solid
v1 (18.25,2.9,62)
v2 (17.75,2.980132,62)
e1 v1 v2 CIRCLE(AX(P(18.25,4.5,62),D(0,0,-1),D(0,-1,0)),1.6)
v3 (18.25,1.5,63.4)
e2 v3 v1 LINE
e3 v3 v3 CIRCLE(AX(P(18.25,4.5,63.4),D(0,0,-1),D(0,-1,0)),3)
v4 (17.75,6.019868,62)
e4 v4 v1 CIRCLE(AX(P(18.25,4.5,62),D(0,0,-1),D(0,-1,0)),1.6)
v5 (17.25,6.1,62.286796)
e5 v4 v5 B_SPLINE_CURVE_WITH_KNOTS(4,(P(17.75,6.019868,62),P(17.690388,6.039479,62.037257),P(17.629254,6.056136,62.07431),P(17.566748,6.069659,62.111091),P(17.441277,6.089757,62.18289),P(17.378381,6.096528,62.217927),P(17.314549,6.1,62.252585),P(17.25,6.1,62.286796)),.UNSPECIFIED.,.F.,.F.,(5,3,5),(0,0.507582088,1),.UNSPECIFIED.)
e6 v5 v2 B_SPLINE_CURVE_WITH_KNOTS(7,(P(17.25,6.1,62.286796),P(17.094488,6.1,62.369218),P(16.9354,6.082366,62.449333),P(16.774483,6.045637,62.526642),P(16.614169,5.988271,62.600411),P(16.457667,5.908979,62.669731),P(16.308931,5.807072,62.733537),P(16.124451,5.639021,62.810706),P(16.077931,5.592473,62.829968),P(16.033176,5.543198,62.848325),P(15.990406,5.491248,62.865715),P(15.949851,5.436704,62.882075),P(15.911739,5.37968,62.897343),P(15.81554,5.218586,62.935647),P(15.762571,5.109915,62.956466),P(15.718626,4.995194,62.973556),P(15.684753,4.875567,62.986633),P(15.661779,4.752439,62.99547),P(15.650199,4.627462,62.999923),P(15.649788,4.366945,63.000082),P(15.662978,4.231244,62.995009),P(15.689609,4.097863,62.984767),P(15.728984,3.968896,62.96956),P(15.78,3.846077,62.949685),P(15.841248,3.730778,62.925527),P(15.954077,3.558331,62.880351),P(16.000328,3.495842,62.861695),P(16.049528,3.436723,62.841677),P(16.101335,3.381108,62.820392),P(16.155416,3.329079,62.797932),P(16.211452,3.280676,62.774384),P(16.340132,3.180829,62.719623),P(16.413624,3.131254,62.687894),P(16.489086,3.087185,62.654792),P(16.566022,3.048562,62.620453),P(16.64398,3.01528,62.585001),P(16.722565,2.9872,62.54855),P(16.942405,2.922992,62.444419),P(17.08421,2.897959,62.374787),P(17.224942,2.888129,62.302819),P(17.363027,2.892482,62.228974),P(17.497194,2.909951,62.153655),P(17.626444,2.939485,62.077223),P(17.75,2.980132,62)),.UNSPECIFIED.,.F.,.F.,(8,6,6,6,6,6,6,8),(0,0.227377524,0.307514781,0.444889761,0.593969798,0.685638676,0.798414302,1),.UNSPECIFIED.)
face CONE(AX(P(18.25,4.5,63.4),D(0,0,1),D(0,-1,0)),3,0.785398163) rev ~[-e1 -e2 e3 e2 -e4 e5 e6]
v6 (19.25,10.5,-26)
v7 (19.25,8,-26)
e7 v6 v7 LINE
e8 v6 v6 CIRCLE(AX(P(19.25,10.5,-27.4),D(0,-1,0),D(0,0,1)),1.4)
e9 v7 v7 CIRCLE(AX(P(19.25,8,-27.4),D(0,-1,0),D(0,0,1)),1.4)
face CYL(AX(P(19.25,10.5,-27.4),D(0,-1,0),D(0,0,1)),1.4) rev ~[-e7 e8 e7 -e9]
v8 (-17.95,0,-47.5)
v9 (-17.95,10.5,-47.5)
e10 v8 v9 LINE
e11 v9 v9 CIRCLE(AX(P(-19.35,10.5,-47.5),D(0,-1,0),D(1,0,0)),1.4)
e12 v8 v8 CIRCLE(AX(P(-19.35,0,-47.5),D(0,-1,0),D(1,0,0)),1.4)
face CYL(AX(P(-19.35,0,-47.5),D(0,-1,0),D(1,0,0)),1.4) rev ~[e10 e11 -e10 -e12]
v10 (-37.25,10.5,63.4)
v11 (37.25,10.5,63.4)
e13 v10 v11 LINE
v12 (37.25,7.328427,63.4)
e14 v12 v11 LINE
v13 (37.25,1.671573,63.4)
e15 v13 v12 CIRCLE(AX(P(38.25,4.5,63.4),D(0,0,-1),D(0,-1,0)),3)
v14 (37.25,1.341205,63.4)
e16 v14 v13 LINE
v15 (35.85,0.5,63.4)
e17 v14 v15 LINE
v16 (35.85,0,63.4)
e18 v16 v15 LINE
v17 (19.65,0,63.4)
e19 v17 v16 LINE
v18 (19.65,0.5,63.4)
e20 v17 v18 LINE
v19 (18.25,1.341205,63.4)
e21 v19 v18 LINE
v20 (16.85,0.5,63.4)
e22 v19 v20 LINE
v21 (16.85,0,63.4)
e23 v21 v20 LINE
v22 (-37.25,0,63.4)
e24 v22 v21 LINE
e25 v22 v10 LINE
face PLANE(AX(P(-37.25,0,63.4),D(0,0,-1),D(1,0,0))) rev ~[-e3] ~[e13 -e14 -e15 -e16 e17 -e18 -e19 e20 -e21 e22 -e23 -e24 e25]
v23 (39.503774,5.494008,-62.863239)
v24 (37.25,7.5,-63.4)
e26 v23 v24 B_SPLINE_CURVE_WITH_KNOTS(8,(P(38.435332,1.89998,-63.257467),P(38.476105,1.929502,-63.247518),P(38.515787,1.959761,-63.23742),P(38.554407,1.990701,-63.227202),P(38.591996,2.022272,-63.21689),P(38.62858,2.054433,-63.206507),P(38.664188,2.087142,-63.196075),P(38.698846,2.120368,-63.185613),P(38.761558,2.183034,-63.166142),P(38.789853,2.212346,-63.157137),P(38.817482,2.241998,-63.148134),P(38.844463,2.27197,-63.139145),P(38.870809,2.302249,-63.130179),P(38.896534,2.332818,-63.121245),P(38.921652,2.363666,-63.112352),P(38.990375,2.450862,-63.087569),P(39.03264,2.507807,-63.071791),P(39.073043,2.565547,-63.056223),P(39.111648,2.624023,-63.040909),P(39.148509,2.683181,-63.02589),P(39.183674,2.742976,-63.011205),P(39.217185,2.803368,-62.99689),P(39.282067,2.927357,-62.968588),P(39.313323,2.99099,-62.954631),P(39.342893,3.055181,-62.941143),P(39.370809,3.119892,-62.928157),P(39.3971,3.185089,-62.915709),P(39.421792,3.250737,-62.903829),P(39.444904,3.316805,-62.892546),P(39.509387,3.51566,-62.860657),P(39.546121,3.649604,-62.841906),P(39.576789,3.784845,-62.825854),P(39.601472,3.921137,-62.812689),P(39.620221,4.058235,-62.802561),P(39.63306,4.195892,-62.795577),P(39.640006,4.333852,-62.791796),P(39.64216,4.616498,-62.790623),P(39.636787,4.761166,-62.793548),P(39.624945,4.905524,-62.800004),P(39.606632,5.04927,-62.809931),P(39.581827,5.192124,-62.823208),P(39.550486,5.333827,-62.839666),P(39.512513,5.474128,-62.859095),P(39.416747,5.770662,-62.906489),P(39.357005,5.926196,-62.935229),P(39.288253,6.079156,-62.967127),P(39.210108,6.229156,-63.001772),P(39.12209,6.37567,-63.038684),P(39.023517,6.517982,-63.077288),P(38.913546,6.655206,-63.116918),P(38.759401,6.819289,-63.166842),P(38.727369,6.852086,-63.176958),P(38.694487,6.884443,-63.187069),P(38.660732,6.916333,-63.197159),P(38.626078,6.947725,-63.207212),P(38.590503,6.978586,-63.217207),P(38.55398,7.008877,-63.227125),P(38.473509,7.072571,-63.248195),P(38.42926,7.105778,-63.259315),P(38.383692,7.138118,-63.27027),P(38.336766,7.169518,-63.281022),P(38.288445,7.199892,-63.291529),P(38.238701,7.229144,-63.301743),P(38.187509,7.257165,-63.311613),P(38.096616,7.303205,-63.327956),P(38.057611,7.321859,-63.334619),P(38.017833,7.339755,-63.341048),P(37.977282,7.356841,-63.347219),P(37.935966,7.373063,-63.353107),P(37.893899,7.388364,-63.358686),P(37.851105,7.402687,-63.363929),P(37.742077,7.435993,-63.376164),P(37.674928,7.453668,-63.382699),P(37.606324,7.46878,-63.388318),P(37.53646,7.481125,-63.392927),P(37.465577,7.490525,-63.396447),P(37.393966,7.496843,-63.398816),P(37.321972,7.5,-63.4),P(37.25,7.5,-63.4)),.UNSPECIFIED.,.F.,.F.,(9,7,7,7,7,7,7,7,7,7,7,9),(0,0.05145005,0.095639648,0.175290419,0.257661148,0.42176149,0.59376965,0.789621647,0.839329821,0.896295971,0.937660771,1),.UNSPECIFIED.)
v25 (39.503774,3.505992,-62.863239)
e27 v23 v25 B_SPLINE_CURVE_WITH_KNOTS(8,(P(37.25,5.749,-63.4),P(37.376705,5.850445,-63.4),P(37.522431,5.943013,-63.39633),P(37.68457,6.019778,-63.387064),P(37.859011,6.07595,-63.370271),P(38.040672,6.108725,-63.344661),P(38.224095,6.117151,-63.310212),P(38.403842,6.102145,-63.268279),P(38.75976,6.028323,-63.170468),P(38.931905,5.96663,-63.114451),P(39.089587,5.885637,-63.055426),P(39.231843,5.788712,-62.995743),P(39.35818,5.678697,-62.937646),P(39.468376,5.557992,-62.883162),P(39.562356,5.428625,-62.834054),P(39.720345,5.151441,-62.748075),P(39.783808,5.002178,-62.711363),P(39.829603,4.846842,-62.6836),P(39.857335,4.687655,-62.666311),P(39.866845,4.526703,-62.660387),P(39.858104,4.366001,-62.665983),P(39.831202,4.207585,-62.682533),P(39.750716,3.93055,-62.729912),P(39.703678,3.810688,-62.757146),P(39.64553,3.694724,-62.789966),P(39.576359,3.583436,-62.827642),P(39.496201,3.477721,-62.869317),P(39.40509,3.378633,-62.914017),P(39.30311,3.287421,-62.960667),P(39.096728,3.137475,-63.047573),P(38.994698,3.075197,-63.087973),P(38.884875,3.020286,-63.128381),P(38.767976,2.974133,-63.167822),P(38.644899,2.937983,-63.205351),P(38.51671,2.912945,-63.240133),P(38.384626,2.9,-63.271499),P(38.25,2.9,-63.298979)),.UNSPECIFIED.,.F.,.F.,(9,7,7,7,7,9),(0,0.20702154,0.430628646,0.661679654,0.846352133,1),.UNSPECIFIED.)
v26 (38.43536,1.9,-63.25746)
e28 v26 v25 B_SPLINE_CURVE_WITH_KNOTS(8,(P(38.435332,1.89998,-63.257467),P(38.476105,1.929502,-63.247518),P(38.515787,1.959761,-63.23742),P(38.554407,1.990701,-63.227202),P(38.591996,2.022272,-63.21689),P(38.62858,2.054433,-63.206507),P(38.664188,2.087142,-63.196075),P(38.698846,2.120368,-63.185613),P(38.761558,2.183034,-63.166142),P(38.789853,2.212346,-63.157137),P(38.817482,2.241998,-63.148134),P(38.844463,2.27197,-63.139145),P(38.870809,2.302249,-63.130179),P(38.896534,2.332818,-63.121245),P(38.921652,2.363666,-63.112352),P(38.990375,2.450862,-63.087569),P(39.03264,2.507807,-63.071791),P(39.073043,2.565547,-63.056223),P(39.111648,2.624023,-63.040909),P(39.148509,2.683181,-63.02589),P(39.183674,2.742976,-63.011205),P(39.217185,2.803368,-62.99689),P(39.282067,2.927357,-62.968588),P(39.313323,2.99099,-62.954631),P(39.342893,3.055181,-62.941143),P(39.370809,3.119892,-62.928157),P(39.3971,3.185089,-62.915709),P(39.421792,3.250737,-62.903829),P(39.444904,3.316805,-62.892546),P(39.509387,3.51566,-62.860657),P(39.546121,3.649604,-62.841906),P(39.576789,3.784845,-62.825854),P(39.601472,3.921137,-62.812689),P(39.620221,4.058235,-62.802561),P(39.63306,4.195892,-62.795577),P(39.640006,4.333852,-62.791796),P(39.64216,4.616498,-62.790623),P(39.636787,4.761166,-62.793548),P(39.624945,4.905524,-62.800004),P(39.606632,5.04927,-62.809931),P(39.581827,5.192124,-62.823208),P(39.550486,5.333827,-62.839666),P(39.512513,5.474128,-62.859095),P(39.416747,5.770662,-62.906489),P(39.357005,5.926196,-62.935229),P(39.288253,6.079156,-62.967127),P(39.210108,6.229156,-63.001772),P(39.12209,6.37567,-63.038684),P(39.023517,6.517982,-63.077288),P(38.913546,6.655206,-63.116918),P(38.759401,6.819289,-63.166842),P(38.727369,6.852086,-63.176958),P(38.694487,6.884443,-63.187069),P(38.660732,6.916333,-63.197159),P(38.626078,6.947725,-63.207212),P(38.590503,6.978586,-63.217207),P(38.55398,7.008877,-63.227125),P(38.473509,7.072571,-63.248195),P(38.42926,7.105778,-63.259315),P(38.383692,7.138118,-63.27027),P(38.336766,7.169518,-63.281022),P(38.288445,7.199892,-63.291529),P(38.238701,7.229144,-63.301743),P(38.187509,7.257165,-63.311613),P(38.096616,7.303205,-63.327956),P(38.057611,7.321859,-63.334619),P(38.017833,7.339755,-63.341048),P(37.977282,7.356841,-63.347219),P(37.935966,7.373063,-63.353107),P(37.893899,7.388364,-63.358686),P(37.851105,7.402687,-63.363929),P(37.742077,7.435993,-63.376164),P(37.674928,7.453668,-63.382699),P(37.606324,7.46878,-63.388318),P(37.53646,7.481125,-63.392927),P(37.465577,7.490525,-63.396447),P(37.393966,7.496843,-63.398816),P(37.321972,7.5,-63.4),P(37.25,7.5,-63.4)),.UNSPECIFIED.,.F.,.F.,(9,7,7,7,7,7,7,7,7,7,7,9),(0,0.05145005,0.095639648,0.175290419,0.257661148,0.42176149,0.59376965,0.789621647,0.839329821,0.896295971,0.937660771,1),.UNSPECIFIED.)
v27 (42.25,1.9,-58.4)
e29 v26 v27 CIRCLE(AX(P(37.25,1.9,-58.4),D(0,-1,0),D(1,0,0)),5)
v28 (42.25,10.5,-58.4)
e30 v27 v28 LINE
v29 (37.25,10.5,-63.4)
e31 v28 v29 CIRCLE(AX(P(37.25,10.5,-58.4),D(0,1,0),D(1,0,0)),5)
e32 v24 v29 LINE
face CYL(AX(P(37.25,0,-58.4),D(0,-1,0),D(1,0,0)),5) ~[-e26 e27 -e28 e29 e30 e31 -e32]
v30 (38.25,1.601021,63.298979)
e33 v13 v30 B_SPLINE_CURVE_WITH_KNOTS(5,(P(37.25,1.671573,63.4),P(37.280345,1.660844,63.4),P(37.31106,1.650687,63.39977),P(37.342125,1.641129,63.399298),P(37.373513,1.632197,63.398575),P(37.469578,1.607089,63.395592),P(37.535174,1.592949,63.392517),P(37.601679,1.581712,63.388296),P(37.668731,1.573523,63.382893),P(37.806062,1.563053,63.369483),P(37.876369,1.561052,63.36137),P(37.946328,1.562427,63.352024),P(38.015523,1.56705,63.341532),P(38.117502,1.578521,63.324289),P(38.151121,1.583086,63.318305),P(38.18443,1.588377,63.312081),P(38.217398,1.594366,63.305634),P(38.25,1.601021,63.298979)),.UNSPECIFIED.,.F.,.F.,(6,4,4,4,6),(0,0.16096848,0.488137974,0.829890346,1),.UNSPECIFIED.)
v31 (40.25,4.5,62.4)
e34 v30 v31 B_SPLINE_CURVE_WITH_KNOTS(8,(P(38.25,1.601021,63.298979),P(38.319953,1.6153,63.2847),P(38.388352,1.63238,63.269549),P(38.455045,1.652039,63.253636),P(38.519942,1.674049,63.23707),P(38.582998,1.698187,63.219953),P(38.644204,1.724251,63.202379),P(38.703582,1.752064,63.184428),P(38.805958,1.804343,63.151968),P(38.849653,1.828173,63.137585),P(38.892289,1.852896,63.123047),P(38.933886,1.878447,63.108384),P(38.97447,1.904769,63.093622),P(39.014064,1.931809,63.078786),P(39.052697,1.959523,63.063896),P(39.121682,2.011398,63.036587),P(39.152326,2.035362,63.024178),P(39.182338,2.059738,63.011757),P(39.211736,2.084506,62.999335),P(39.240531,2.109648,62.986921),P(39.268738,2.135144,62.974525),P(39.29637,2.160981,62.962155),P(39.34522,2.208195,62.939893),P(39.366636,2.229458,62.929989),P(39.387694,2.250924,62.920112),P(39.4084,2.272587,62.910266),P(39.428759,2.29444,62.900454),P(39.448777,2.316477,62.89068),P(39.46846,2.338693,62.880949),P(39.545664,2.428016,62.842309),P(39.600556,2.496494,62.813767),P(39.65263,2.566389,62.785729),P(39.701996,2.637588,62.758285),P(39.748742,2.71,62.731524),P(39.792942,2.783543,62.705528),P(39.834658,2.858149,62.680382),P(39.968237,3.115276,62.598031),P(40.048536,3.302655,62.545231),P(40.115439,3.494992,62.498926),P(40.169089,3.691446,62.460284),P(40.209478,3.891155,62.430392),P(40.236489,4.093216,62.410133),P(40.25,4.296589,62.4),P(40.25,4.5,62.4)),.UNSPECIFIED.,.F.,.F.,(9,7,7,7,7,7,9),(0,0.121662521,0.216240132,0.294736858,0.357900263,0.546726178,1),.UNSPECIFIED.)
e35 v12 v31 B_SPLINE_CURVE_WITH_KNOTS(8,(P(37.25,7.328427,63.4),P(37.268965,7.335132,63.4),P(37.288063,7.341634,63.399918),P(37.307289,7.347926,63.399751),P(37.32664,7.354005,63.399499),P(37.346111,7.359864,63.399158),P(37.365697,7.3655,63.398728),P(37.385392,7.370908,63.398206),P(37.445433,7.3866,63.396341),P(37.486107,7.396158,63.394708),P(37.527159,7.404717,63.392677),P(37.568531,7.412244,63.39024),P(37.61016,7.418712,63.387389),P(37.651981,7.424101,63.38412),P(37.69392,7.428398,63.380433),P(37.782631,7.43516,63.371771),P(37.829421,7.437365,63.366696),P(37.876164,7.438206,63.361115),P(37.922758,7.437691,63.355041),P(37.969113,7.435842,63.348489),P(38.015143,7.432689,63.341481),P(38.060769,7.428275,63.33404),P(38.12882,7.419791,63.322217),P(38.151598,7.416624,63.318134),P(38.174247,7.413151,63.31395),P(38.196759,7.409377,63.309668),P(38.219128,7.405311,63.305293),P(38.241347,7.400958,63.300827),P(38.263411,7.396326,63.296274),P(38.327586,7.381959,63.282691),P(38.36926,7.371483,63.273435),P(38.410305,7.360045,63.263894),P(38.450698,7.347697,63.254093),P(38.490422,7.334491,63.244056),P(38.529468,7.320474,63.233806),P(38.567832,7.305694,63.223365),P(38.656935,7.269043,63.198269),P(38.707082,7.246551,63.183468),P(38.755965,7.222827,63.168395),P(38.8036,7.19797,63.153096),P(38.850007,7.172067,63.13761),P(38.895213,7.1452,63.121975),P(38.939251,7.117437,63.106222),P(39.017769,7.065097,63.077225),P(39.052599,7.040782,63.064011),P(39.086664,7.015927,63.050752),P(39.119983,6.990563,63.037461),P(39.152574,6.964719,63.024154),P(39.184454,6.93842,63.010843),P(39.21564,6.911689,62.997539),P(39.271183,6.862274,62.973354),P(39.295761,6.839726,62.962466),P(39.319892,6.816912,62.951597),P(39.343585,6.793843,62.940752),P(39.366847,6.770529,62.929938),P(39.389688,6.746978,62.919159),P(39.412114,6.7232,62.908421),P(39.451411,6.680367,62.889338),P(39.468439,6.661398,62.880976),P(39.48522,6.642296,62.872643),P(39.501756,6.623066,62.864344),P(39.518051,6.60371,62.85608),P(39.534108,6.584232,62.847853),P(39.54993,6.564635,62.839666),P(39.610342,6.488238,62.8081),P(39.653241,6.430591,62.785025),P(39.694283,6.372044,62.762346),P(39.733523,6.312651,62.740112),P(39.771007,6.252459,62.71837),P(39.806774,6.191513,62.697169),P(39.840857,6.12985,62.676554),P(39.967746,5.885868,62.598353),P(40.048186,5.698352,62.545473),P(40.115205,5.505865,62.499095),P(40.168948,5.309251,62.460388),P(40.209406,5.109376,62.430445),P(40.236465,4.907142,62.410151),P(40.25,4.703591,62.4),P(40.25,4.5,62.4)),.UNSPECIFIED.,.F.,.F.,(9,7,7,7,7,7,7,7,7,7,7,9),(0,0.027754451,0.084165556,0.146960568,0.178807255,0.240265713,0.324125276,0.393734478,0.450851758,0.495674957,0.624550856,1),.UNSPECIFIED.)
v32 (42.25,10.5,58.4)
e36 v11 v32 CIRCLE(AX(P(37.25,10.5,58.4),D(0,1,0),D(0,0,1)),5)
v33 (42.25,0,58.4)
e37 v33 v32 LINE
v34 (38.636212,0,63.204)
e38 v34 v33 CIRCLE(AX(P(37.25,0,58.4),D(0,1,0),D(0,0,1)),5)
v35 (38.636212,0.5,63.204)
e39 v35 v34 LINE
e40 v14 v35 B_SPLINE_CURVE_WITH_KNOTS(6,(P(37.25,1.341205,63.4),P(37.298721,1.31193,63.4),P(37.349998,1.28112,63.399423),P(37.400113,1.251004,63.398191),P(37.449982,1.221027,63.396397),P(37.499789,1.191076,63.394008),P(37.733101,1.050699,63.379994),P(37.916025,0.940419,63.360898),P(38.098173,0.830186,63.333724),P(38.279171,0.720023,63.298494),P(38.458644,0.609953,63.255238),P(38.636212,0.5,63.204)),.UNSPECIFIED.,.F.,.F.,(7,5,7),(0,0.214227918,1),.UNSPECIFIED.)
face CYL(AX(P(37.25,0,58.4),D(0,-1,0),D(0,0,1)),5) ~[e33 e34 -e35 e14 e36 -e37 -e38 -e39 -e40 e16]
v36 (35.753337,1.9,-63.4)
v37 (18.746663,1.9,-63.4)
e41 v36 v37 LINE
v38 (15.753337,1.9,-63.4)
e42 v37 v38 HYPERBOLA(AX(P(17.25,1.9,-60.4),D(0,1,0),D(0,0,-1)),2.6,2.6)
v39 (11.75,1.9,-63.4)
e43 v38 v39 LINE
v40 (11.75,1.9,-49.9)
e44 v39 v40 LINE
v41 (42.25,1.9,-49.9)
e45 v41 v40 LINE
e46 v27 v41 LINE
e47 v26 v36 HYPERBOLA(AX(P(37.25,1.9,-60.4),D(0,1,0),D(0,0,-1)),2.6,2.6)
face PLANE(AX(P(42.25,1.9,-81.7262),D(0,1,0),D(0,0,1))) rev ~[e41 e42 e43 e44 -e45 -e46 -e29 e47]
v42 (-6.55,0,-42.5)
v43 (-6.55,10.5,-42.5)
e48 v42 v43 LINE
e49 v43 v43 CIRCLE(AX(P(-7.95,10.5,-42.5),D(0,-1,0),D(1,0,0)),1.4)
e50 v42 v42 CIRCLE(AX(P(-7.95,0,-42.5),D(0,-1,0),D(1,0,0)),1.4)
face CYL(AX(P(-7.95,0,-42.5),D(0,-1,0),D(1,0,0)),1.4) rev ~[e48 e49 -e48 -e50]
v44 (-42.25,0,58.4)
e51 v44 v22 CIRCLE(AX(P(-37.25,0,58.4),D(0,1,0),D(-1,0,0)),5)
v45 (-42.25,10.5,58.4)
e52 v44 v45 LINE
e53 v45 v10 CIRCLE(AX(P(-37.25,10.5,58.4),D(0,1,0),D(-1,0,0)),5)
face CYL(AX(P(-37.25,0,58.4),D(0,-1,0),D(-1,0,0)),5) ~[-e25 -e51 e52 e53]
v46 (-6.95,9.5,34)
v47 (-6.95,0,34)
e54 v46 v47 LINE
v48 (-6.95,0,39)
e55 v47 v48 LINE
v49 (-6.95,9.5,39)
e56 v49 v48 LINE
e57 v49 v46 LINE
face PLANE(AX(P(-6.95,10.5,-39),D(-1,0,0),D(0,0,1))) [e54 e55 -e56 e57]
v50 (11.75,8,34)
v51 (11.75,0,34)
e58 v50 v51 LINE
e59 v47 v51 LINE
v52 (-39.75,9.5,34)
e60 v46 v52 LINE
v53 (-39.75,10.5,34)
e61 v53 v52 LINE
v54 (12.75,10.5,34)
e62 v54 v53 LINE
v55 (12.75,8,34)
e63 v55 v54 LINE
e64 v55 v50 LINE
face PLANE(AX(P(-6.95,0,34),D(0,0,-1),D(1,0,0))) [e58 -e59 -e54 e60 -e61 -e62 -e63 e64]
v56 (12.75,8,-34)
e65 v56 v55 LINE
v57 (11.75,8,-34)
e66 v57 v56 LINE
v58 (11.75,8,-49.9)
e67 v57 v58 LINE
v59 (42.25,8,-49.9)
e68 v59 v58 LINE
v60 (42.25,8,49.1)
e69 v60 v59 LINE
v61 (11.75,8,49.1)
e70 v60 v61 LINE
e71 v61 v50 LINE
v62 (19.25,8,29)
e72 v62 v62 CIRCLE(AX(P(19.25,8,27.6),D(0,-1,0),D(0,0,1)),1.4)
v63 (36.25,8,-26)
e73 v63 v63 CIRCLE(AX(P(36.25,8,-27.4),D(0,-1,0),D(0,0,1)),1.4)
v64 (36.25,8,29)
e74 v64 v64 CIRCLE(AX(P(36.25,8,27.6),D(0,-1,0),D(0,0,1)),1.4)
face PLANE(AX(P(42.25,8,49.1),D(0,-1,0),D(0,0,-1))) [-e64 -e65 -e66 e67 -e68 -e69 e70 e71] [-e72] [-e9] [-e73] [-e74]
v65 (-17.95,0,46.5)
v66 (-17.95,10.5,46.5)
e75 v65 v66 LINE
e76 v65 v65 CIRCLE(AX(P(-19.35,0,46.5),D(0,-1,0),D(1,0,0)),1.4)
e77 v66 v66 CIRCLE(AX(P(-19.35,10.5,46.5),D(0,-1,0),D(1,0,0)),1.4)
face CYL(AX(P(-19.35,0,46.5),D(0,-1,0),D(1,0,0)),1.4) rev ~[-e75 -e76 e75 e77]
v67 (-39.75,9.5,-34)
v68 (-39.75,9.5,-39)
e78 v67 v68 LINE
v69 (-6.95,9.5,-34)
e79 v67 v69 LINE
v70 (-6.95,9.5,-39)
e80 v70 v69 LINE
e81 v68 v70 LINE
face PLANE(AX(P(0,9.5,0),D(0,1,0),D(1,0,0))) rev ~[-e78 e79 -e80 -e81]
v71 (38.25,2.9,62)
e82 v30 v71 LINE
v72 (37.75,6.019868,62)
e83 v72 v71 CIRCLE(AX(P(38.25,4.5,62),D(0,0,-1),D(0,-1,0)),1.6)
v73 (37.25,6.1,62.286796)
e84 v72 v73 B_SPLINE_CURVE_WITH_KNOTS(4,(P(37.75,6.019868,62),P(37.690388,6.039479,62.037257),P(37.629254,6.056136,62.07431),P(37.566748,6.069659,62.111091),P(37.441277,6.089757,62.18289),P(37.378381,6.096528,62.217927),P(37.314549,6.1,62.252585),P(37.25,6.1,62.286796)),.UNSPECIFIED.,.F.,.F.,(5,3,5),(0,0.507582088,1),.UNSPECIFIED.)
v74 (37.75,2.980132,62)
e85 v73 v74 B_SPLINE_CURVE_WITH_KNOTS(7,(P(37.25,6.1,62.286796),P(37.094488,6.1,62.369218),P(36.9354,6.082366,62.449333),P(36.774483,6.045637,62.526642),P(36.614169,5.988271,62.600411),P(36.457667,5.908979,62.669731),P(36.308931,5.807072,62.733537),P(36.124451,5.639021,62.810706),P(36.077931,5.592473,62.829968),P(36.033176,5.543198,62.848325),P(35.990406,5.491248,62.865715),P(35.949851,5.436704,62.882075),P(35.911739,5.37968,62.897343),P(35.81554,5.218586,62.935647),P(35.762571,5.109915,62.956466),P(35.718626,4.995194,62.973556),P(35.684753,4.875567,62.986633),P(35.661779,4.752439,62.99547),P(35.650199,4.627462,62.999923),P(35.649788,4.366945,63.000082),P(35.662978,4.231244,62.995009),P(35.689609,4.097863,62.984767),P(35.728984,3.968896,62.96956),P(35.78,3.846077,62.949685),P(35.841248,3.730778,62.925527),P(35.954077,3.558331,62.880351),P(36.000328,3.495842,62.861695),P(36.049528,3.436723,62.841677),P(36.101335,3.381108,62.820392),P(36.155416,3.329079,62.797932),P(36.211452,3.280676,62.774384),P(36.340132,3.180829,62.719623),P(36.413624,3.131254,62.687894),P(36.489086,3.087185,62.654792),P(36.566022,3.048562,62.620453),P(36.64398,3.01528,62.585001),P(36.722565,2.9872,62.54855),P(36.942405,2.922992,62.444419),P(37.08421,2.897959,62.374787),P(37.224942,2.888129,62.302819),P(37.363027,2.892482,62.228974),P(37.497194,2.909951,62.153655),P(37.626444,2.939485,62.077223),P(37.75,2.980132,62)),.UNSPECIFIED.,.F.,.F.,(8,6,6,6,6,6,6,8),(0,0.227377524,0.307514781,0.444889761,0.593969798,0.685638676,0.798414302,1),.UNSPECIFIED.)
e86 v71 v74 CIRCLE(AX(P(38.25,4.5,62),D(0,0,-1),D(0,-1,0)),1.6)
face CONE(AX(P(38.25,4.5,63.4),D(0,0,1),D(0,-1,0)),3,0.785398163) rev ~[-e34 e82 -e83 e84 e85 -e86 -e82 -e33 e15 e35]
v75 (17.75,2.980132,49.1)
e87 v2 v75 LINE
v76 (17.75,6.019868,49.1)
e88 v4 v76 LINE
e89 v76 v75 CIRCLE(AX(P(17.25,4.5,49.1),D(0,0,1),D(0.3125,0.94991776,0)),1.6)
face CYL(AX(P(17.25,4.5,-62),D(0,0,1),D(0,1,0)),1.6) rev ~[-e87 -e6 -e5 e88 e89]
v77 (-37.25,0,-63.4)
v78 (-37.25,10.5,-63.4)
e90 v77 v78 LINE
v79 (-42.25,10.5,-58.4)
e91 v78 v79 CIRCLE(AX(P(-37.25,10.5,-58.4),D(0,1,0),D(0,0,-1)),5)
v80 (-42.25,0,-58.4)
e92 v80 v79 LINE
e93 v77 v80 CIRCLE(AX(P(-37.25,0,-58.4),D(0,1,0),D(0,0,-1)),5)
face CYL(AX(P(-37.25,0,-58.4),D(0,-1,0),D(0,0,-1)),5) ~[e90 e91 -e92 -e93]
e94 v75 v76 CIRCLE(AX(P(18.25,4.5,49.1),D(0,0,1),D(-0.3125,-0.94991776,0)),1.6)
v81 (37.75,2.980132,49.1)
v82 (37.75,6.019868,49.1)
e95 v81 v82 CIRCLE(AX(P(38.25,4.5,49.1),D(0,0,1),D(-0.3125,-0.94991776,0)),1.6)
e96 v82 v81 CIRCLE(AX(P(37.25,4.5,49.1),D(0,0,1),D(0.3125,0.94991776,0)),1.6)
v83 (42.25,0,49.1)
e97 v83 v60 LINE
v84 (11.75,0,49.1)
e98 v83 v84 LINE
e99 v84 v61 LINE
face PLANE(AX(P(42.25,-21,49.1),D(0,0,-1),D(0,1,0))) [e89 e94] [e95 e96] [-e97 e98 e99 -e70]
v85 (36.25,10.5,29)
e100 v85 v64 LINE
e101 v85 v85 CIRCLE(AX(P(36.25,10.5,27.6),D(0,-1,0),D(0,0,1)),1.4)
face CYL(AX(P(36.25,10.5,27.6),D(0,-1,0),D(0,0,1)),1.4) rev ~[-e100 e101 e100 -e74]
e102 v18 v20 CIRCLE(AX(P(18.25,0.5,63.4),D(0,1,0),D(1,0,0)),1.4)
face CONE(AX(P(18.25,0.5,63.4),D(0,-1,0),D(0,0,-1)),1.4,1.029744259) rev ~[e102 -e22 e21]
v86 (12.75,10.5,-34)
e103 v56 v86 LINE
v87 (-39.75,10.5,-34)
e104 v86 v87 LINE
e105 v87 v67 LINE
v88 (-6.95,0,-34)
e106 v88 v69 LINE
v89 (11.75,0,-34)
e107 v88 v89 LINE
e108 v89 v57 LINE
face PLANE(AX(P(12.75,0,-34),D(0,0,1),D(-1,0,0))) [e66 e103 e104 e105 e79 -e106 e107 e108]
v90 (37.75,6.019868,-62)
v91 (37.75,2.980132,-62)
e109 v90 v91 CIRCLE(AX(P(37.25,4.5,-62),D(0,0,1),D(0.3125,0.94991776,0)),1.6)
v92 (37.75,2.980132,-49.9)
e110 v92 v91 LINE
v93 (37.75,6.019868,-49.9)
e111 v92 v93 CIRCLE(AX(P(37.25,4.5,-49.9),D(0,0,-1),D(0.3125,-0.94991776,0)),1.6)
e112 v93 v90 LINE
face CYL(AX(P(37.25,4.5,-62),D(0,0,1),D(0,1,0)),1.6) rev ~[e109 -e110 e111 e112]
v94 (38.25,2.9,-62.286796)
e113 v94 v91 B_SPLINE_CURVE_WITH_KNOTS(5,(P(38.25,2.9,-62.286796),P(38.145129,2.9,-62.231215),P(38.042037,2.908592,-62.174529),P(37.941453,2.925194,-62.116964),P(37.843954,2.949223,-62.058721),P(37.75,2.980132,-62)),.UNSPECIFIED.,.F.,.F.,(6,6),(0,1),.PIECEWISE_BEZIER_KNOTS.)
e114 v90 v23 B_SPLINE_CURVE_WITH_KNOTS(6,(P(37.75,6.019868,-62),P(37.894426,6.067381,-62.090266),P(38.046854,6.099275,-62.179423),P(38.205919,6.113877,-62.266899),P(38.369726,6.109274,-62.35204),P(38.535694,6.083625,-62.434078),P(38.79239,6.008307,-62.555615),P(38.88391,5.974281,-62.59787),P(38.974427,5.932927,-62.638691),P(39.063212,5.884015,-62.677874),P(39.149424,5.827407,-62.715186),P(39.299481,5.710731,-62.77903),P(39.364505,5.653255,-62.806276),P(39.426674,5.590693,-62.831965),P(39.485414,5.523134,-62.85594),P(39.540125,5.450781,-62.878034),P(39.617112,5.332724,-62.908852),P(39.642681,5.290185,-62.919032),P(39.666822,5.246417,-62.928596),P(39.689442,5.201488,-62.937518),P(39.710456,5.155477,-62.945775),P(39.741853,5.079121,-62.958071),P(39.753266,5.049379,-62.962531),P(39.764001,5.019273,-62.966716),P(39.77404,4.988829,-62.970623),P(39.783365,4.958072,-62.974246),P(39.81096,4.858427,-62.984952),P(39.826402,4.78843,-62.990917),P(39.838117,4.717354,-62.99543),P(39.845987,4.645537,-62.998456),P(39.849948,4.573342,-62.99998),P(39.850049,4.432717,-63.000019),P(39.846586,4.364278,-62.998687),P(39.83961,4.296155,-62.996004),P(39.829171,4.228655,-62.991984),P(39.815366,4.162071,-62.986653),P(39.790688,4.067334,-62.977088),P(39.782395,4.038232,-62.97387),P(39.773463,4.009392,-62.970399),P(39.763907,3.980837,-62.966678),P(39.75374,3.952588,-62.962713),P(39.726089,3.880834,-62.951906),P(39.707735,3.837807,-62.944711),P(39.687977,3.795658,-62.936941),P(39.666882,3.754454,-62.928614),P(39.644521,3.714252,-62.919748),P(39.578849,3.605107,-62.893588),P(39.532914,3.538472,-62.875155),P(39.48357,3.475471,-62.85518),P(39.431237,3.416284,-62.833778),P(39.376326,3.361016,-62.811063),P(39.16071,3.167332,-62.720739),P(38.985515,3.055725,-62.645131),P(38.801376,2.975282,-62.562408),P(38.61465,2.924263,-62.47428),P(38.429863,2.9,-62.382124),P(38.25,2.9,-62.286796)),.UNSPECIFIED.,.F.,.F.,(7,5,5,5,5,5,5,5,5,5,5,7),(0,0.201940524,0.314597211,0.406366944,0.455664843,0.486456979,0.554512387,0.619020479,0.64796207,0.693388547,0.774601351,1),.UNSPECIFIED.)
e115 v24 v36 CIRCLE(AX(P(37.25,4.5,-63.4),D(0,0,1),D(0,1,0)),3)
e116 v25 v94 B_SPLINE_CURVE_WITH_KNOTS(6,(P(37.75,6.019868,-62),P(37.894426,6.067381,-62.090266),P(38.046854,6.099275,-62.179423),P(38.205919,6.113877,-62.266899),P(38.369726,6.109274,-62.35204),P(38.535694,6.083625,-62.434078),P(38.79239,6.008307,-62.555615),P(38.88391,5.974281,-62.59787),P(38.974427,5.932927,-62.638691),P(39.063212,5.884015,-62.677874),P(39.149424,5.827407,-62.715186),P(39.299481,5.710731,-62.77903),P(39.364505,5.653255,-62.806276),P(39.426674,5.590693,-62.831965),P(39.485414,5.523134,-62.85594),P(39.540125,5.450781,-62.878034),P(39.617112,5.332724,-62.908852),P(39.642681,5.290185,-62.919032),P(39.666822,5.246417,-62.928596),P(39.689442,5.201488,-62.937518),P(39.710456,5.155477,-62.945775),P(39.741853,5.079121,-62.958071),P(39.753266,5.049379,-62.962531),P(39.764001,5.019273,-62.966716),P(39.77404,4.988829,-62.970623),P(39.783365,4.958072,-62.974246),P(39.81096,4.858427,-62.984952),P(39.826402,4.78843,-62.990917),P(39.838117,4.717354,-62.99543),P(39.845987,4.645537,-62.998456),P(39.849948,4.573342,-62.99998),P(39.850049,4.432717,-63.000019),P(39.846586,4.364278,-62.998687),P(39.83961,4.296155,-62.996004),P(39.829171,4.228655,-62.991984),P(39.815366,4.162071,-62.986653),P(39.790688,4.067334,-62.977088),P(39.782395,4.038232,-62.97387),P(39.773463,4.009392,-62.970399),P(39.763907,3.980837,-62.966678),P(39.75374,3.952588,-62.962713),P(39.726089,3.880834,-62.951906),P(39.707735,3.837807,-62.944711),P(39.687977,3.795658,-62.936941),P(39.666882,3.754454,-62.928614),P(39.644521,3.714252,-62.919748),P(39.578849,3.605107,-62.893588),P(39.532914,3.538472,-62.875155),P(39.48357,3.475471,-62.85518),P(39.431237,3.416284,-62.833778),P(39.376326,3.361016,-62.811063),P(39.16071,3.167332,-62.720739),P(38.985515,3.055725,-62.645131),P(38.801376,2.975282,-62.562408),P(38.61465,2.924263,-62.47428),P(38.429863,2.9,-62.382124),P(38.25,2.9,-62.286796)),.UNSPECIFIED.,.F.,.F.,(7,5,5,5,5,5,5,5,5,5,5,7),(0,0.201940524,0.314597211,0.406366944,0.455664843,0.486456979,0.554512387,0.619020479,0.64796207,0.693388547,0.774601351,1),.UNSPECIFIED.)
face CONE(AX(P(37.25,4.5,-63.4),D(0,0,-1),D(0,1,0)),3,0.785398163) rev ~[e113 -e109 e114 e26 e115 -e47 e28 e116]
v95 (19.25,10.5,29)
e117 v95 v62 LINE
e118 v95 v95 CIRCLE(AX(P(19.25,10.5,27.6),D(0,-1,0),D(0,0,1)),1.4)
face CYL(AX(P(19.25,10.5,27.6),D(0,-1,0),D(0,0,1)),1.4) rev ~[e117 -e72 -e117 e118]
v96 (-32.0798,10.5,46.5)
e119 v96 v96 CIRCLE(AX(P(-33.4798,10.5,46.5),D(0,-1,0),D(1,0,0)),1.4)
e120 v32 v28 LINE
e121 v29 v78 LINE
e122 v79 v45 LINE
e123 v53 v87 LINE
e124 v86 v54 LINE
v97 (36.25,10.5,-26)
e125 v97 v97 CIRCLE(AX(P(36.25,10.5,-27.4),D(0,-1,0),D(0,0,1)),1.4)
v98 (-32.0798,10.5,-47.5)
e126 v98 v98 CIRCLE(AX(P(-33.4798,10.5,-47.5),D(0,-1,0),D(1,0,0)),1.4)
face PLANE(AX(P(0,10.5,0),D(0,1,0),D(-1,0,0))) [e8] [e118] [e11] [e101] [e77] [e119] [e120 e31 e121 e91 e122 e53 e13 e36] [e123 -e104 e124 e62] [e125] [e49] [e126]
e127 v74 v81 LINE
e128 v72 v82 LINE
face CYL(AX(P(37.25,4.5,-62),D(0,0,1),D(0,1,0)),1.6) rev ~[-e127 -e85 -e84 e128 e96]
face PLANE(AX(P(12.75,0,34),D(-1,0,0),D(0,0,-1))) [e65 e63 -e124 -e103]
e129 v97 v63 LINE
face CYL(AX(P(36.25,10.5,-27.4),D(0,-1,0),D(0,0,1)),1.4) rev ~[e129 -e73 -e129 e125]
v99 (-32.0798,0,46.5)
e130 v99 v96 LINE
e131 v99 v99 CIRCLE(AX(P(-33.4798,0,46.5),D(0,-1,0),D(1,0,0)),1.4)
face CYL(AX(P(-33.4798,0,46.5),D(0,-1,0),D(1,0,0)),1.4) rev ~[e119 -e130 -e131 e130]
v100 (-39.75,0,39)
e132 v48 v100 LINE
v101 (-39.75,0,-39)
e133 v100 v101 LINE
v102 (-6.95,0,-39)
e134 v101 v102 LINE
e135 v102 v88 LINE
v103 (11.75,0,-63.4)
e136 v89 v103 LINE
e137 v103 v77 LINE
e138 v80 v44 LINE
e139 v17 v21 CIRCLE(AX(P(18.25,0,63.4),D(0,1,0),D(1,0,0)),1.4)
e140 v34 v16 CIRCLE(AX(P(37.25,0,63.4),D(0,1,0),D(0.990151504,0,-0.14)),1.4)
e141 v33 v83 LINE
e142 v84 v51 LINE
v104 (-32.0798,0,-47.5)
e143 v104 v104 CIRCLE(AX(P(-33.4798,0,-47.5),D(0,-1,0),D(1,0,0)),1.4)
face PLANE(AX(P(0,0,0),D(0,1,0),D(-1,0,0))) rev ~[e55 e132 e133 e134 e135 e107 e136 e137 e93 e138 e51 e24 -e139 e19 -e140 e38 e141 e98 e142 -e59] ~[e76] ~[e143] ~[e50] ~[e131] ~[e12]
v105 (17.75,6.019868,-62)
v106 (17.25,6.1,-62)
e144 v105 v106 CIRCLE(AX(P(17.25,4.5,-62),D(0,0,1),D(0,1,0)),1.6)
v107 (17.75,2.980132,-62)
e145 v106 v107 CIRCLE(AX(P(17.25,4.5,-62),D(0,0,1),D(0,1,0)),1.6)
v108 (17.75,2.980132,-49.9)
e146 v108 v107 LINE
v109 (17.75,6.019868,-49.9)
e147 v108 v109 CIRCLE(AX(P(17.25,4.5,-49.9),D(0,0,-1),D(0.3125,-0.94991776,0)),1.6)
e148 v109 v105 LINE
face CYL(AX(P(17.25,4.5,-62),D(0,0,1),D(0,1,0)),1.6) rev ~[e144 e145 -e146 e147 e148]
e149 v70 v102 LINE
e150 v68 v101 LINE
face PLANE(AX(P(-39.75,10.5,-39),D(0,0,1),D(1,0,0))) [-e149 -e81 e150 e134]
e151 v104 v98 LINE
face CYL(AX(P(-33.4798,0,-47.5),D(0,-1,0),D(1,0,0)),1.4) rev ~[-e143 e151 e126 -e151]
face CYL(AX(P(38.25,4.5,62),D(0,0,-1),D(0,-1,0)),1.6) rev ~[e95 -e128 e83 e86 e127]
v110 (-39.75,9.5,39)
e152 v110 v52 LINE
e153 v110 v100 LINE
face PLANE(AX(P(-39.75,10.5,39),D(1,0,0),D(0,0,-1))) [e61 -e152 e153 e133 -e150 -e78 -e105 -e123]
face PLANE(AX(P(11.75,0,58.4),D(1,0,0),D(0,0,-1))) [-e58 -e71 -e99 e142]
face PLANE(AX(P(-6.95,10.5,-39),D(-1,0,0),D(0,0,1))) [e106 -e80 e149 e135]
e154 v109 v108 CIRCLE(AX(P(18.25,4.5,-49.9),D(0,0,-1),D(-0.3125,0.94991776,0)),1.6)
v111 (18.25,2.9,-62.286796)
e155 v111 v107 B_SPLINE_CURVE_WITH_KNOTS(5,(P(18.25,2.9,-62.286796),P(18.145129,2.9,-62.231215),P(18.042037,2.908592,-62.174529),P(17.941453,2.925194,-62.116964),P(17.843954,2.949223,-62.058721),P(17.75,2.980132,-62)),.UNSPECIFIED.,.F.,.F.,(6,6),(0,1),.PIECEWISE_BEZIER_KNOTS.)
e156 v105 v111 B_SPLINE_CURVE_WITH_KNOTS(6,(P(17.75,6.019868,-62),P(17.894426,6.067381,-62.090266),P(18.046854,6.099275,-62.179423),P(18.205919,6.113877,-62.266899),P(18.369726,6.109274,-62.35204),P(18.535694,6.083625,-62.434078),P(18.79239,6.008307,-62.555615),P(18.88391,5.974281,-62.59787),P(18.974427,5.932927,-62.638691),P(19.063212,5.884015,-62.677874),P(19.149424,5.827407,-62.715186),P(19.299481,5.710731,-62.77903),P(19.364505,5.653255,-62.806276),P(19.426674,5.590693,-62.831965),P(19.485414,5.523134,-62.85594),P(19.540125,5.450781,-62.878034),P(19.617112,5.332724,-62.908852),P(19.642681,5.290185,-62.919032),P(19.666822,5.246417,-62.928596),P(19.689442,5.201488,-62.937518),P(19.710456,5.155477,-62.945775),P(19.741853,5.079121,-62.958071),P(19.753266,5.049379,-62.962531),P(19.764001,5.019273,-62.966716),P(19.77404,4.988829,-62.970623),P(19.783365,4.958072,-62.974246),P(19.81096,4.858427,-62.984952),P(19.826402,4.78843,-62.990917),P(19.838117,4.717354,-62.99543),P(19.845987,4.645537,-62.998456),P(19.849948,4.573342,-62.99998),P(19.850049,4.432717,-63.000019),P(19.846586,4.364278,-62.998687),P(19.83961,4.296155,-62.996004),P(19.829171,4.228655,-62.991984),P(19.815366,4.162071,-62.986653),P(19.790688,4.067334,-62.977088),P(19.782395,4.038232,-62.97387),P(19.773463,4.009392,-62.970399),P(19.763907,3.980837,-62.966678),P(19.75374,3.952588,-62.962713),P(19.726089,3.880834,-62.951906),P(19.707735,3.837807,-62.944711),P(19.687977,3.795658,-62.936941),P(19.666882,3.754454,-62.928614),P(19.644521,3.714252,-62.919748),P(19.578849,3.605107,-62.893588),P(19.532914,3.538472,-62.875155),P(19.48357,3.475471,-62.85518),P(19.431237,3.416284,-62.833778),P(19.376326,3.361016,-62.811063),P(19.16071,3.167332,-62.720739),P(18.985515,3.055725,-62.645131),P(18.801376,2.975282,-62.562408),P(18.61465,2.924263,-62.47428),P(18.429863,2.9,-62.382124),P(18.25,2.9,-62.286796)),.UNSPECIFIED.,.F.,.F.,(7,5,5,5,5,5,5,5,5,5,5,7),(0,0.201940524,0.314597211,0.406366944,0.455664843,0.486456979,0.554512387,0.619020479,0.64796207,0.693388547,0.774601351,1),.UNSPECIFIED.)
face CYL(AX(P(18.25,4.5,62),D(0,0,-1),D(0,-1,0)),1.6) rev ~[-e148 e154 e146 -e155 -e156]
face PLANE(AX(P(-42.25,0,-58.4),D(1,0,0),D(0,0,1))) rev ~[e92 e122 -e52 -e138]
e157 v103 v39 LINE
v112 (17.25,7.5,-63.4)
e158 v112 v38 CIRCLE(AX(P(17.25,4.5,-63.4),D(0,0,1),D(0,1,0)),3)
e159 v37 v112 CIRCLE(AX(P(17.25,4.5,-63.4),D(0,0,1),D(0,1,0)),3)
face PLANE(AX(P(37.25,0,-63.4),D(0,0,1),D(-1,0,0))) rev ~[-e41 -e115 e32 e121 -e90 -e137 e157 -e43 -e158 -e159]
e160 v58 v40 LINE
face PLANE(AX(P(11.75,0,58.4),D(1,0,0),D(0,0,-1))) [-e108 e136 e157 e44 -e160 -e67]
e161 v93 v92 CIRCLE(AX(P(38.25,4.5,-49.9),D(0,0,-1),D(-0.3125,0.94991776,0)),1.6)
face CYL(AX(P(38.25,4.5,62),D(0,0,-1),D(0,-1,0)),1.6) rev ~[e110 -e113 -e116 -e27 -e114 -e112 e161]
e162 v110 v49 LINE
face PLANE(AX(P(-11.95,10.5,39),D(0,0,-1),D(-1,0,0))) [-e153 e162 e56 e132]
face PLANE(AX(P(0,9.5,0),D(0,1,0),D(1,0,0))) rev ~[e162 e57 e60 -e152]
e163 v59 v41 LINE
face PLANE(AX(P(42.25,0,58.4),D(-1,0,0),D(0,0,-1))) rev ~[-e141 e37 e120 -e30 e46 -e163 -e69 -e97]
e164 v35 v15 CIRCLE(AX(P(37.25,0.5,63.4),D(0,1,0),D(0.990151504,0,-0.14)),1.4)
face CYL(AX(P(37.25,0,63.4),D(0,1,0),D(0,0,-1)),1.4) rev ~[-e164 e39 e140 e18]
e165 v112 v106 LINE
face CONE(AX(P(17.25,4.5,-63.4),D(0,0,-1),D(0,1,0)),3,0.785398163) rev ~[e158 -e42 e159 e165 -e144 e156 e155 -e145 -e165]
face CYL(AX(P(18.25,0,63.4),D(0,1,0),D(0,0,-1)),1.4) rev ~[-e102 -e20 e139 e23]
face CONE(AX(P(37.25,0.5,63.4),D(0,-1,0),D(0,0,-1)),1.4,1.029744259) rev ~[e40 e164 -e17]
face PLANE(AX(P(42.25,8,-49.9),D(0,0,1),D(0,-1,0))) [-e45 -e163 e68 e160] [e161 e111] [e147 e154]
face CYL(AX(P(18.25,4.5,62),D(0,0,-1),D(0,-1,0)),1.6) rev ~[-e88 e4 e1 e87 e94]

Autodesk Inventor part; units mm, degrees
ref_plane "YZ Plane" through (0, 0, 0) normal (1, 0, 0) x (0, 1, 0)
ref_plane "XZ Plane" through (0, 0, 0) normal (0, 1, 0) x (-1, 0, 0)
sketch "Skizze1" plane through (0, 0, 0) normal (0, 1, 0) x (-1, 0, 0)
  line L0 (-37.25, -63.4) -> (37.25, -63.4)
  line L1 (42.25, -58.4) -> (42.25, 58.4)
  line L2 (37.25, 63.4) -> (-37.25, 63.4)
  line L3 (-42.25, 58.4) -> (-42.25, -58.4)
  line L4 (-42.25, -63.4) -> (42.25, 63.4) construction
  line L5 (42.25, -63.4) -> (-42.25, 63.4) construction
  arc A0 (42.25, 58.4) -> (37.25, 63.4) centre (37.25, 58.4) ccw
  arc A1 (-37.25, 63.4) -> (-42.25, 58.4) centre (-37.25, 58.4) ccw
  arc A2 (-42.25, -58.4) -> (-37.25, -63.4) centre (-37.25, -58.4) ccw
  arc A3 (37.25, -63.4) -> (42.25, -58.4) centre (37.25, -58.4) ccw
  point P0 (0, 0)
  dimension "d0" = 84.5
  dimension "d1" = 126.8
  dimension "d2" = 5
extrude "Extrusion1" add sketch "Skizze1" along normal blind 10.5
ref_plane "Arbeitsebene1" through (37.25, 0, 0) normal (0, 0, -1) x (-1, 0, 0)
ref_plane "Arbeitsebene2" through (0, 0, 58.4) normal (1, 0, 0) x (0, 0, -1)
sketch "Skizze2" plane through (0, 10.5, 0) normal (0, 1, 0) x (1, 0, 0)
  line L0 (-12.95, 38) -> (-38.75, 38) projected
  line L1 (-38.75, -38) -> (-12.95, -38) projected
  line L2 (-12.95, -38) -> (-12.95, -2.5) projected
  line L3 (-38.75, 38) -> (-38.75, -38) projected
  line L4 (-38.75, -38) -> (-12.95, -38)
  line L5 (-12.95, -38) -> (-12.95, 38)
  line L6 (-12.95, 38) -> (-38.75, 38)
  line L7 (-38.75, 38) -> (-38.75, -38)
  line L8 (-11.95, 39) -> (-11.95, -39)
  line L9 (-11.95, -39) -> (-39.75, -39)
  line L10 (-39.75, -39) -> (-39.75, 39)
  line L11 (-39.75, 39) -> (-11.95, 39)
  line L12 (-11.95, 39) -> (-6.95, 39)
  line L13 (-6.95, 39) -> (-6.95, -39)
  line L14 (-6.95, -39) -> (-11.95, -39)
  line L15 (-11.95, -39) -> (-11.95, 39)
  point P0 (0, 0)
  dimension "d5" = 1
  dimension "d64" = 5
extrude "Extrusion2" cut sketch "Skizze2" against normal through all contours L5 L2 L1 L3 L0 | L12 L13 L14 L8 | L8 L9 L10 L11
ref_plane "Arbeitsebene3" through (-32.75, 5, -38) normal (0, 1, 0) x (0, 0, 1)
sketch "Skizze3" plane through (0, 10.5, 0) normal (0, 1, 0) x (1, 0, 0)
  line L0 (-39.75, -39) -> (-39.75, 39) projected
  arc A0 (-37.25, 63.4) -> (-42.25, 58.4) centre (-37.25, 58.4) ccw projected
  line L1 (-42.25, 58.4) -> (-42.25, -58.4) projected
  arc A1 (-42.25, -58.4) -> (-37.25, -63.4) centre (-37.25, -58.4) ccw projected
  line L2 (-37.25, -63.4) -> (37.25, -63.4) projected
  arc A2 (37.25, -63.4) -> (42.25, -58.4) centre (37.25, -58.4) ccw projected
  line L3 (42.25, -58.4) -> (42.25, 58.4) projected
  arc A3 (42.25, 58.4) -> (37.25, 63.4) centre (37.25, 58.4) ccw projected
  line L4 (37.25, 63.4) -> (-37.25, 63.4) projected
  line L5 (-39.75, -39) -> (-39.75, 39) projected
  line L6 (-39.75, -39) -> (-6.95, -39)
  line L7 (-6.95, -39) -> (-6.95, -34)
  line L8 (-6.95, -34) -> (-39.75, -34)
  line L9 (-39.75, -34) -> (-39.75, -39)
  line L10 (-39.75, 39) -> (-6.95, 39)
  line L11 (-6.95, 39) -> (-6.95, 34)
  line L12 (-6.95, 34) -> (-39.75, 34)
  line L13 (-39.75, 34) -> (-39.75, 39)
  line L14 (-6.95, -39) -> (-39.75, -39) projected
  line L15 (-39.75, 39) -> (-6.95, 39) projected
  line L16 (-6.95, 39) -> (-6.95, -39) projected
  line L17 (-6.95, -39) -> (-6.95, 39) projected
  point P0 (0, 0)
  dimension "d8" = 32.8
  dimension "d9" = 5
  dimension "d10" = 5
extrude "Extrusion3" add sketch "Skizze3" against normal blind 1 contours L0 L8 L7 L6 | L0 L10 L11 L12
sketch "Skizze4" plane through (0, 0, 0) normal (0, -1, 0) x (1, 0, 0)
  line L0 (-39.75, -39) -> (-39.75, 39) projected
  arc A0 (-42.25, -58.4) -> (-37.25, -63.4) centre (-37.25, -58.4) ccw projected
  line L1 (37.25, -63.4) -> (-37.25, -63.4) projected
  arc A1 (37.25, -63.4) -> (42.25, -58.4) centre (37.25, -58.4) ccw projected
  line L2 (42.25, 58.4) -> (42.25, -58.4) projected
  arc A2 (42.25, 58.4) -> (37.25, 63.4) centre (37.25, 58.4) ccw projected
  line L3 (-37.25, 63.4) -> (37.25, 63.4) projected
  arc A3 (-37.25, 63.4) -> (-42.25, 58.4) centre (-37.25, 58.4) ccw projected
  line L4 (-42.25, -58.4) -> (-42.25, 58.4) projected
  line L5 (-11.95, -34) -> (-11.95, 34) projected
  line L6 (-11.95, 34) -> (12.75, 34)
  line L7 (12.75, 34) -> (12.75, -34)
  line L8 (12.75, -34) -> (-11.95, -34)
  line L9 (-11.95, -34) -> (-11.95, 34)
  line L10 (-2.45, 7.5) -> (-2.45, -8) projected
  line L11 (12.75, -34.1) -> (12.75, -39.1) projected
  line L12 (-39.75, 39) -> (-6.95, 39) projected
  line L13 (-6.95, 39) -> (-6.95, -39) projected
  line L14 (-6.95, -39) -> (-39.75, -39) projected
  point P0 (0, 0)
  dimension "d44" = 0
extrude "Extrusion4" cut sketch "Skizze4" against normal through all contours L13 L6 L7 L8 | L8 L5 L6 L13
sketch "Skizze5" plane through (0, 0, 0) normal (0, -1, 0) x (1, 0, 0)
  arc A0 (-42.25, -58.4) -> (-37.25, -63.4) centre (-37.25, -58.4) ccw projected
  line L0 (37.25, -63.4) -> (-37.25, -63.4) projected
  arc A1 (37.25, -63.4) -> (42.25, -58.4) centre (37.25, -58.4) ccw projected
  line L1 (42.25, 58.4) -> (42.25, -58.4) projected
  arc A2 (42.25, 58.4) -> (37.25, 63.4) centre (37.25, 58.4) ccw projected
  line L2 (-37.25, 63.4) -> (37.25, 63.4) projected
  arc A3 (-37.25, 63.4) -> (-42.25, 58.4) centre (-37.25, 58.4) ccw projected
  line L3 (-42.25, -58.4) -> (-42.25, 58.4) projected
  line L4 (-6.95, 34) -> (12.75, 34) projected
  line L5 (12.75, 34) -> (12.75, -34) projected
  line L6 (12.75, -34) -> (-6.95, -34) projected
  line L7 (-39.75, -39) -> (-39.75, 39) projected
  line L8 (-6.95, -34) -> (-6.95, -39) projected
  line L9 (-6.95, -39) -> (-39.75, -39) projected
  line L10 (-39.75, 39) -> (-6.95, 39) projected
  line L11 (-6.95, 39) -> (-6.95, 34) projected
  circle A4 centre (-33.4798, 46.5) radius 1.4
  circle A5 centre (-33.4798, -47.5) radius 1.4
  circle A6 centre (-19.35, -47.5) radius 1.4
  circle A7 centre (-19.35, 46.5) radius 1.4
  circle A8 centre (-7.95, -42.5) radius 1.4
  point P0 (0, 0)
extrude "Extrusion5" cut sketch "Skizze5" against normal through all contours A4 | A5 | A6 | A7 | A8
sketch "Skizze9" plane through (0, 10.5, 0) normal (0, -1, 0) x (1, 0, 0)
  arc A0 (-42.25, -58.4) -> (-37.25, -63.4) centre (-37.25, -58.4) ccw projected
  line L0 (37.25, -63.4) -> (-37.25, -63.4) projected
  arc A1 (37.25, -63.4) -> (42.25, -58.4) centre (37.25, -58.4) ccw projected
  line L1 (42.25, 58.4) -> (42.25, -58.4) projected
  arc A2 (42.25, 58.4) -> (37.25, 63.4) centre (37.25, 58.4) ccw projected
  line L2 (-37.25, 63.4) -> (37.25, 63.4) projected
  arc A3 (-37.25, 63.4) -> (-42.25, 58.4) centre (-37.25, 58.4) ccw projected
  line L3 (-42.25, -58.4) -> (-42.25, 58.4) projected
  line L4 (12.75, 34) -> (12.75, -34) projected
  line L5 (12.75, -34) -> (-6.95, -34) projected
  line L6 (-39.75, -39) -> (-39.75, 39) projected
  line L7 (-6.95, 34) -> (12.75, 34) projected
  line L8 (-39.75, 39) -> (-11.95, 39) projected
  line L9 (-39.75, 39) -> (-11.95, 39)
  line L10 (-11.95, 39) -> (-11.95, 34)
  line L11 (-11.95, 34) -> (-39.75, 34)
  line L12 (-39.75, 34) -> (-39.75, 39)
  line L13 (-11.95, -39) -> (-39.75, -39) projected
  line L14 (-39.75, -39) -> (-39.75, -34) projected
  line L15 (-11.95, -39) -> (-39.75, -39)
  line L16 (-39.75, -39) -> (-39.75, -34)
  line L17 (-39.75, -34) -> (-11.95, -34)
  line L18 (-11.95, -34) -> (-11.95, -39)
  line L19 (-39.75, -39) -> (-9.75, -39)
  line L20 (-9.75, -39) -> (-9.75, 39)
  line L21 (-9.75, 39) -> (-39.75, 39)
  line L22 (-39.75, 39) -> (-39.75, -39)
  line L23 (-6.95, -34) -> (-6.95, -39) projected
  line L24 (-6.95, -39) -> (-39.75, -39) projected
  line L25 (-39.75, 39) -> (-6.95, 39) projected
  line L26 (-6.95, 39) -> (-6.95, 34) projected
  point P0 (0, 0)
  dimension "d63" = 30
extrude "Extrusion8" add sketch "Skizze9" along normal blind 1 contours L13 L6 L17 L18
sketch "Skizze10" plane through (0, 10.5, 0) normal (0, 1, 0) x (1, 0, 0)
  circle A0 centre (36.25, -27.6) radius 1.7 projected
  circle A1 centre (19.25, -27.6) radius 1.7 projected
  circle A2 centre (36.25, 27.4) radius 3.25 projected
  circle A3 centre (19.25, 27.4) radius 3.25 projected
  point P0 (0, 0)
  point P1 (19.25, -37.4)
  point P2 (19.25, 17.6)
  point P3 (36.25, -37.4)
  point P4 (36.25, 17.6)
hole "Bohrung2" at (19.25, 10.5, 27.6) at (36.25, 10.5, 27.6) at (19.25, 10.5, -27.4) at (36.25, 10.5, -27.4) direction (0, -1, 0) diameter 2.8 end through all
sketch "Skizze11" plane through (42.25, 0, 58.4) normal (1, 0, 0) x (0, 0, -1)
  line L0 (114.8, 1.25) -> (128.8, 1.25) projected
  line L1 (107.8, 1.4) -> (114.8, 1.4) projected
  line L2 (107.8, -25.5) -> (107.8, 7.5) projected
  line L3 (9.8, -20.5) -> (9.8, 7.5) projected
  line L4 (107.8, 7.5) -> (9.8, 7.5)
  line L5 (9.8, 7.5) -> (9.8, -20.5)
  line L6 (9.8, -20.5) -> (107.8, -20.5)
  line L7 (107.8, -20.5) -> (107.8, 7.5)
  line L8 (107.8, 1.4) -> (139.6262, 1.4)
  line L9 (139.6262, 1.4) -> (139.6262, -24.4892)
  line L10 (139.6262, -24.4892) -> (107.8, -24.4892)
  line L11 (107.8, -24.4892) -> (107.8, 1.4)
  line L12 (108.3, -21) -> (9.3, -21)
  line L13 (9.3, -21) -> (9.3, 8)
  line L14 (9.3, 8) -> (108.3, 8)
  line L15 (108.3, 8) -> (108.3, -21)
  line L16 (107.3, -24.9892) -> (140.1262, -24.9892)
  line L17 (140.1262, -24.9892) -> (140.1262, 1.9)
  line L18 (140.1262, 1.9) -> (107.3, 1.9)
  line L19 (107.3, 1.9) -> (107.3, -24.9892)
  point P0 (58.4, 0)
  point P1 (107.3, -21)
  point P2 (108.3, 1.9)
  dimension "d45" = 0.5
  dimension "d46" = 0.5
extrude "Extrusion9" cut sketch "Skizze11" against normal blind 30.5
sketch "Skizze12" plane through (-37.25, 0, 63.4) normal (0, 0, 1) x (1, 0, 0)
  circle A0 centre (75.5, 4.5) radius 2.75 projected
  circle A1 centre (55.5, 4.5) radius 1.45 projected
  circle A2 centre (75.5, 4.5) radius 1.45 projected
  circle A3 centre (55.5, 4.5) radius 1.45 projected
  point P0 (37.25, 0)
hole "Bohrung3" at (38.25, 4.5, 63.4) at (18.25, 4.5, 63.4) direction (0, 0, -1) diameter 3.2 end through all countersink diameter 6 countersink angle 90
sketch "Skizze13" plane through (37.25, 10.5, -63.4) normal (0, 0, -1) x (-1, 0, 0)
  circle A0 centre (0, -6) radius 2.75 projected
  circle A1 centre (20, -6) radius 2.75 projected
  point P0 (37.25, -10.5)
hole "Bohrung4" at (37.25, 4.5, -63.4) at (17.25, 4.5, -63.4) direction (0, 0, 1) diameter 3.2 end through all countersink diameter 6 countersink angle 90
sketch "Skizze14" plane through (0, 0, 0) normal (0, -1, 0) x (1, 0, 0)
  line L0 (19.85, 62) -> (16.65, 62) projected
  line L1 (39.85, 62) -> (36.65, 62) projected
  line L2 (16.15, -62.5) -> (19.35, -62.5) projected
  line L3 (36.15, -62.5) -> (39.35, -62.5) projected
  line L4 (35.7533, -63.4) -> (18.7467, -63.4) projected
  arc A0 (38.4354, -63.2575) -> (42.25, -58.4) centre (37.25, -58.4) ccw projected
  line L5 (42.25, -49.9) -> (42.25, -58.4) projected
  line L6 (42.25, -49.9) -> (11.75, -49.9) projected
  line L7 (11.75, -49.9) -> (11.75, -63.4) projected
  line L8 (-37.25, 63.4) -> (37.25, 63.4) projected
  line L9 (37.25, -63.4) -> (-37.25, -63.4) projected
  line L10 (15.7533, -63.4) -> (11.75, -63.4) projected
  point P0 (0, 0)
  point P1 (16.2533, -63.9)
  point P2 (19.2467, -63.9)
  point P3 (36.2533, -63.9)
  point P4 (18.25, 63.4)
  point P5 (17.75, -63.9)
  point P6 (-37.25, -63.4)
hole "Bohrung5" at (18.25, 0, 63.4) at (37.25, 0, 63.4) at (17.75, 0, -63.9) at (37.25, 0, -63.4) direction (0, 1, 0) diameter 2.8 depth 0.5 tip angle 118
properties part number "TIRFImager_base_50mm_NEMA11_v3"
